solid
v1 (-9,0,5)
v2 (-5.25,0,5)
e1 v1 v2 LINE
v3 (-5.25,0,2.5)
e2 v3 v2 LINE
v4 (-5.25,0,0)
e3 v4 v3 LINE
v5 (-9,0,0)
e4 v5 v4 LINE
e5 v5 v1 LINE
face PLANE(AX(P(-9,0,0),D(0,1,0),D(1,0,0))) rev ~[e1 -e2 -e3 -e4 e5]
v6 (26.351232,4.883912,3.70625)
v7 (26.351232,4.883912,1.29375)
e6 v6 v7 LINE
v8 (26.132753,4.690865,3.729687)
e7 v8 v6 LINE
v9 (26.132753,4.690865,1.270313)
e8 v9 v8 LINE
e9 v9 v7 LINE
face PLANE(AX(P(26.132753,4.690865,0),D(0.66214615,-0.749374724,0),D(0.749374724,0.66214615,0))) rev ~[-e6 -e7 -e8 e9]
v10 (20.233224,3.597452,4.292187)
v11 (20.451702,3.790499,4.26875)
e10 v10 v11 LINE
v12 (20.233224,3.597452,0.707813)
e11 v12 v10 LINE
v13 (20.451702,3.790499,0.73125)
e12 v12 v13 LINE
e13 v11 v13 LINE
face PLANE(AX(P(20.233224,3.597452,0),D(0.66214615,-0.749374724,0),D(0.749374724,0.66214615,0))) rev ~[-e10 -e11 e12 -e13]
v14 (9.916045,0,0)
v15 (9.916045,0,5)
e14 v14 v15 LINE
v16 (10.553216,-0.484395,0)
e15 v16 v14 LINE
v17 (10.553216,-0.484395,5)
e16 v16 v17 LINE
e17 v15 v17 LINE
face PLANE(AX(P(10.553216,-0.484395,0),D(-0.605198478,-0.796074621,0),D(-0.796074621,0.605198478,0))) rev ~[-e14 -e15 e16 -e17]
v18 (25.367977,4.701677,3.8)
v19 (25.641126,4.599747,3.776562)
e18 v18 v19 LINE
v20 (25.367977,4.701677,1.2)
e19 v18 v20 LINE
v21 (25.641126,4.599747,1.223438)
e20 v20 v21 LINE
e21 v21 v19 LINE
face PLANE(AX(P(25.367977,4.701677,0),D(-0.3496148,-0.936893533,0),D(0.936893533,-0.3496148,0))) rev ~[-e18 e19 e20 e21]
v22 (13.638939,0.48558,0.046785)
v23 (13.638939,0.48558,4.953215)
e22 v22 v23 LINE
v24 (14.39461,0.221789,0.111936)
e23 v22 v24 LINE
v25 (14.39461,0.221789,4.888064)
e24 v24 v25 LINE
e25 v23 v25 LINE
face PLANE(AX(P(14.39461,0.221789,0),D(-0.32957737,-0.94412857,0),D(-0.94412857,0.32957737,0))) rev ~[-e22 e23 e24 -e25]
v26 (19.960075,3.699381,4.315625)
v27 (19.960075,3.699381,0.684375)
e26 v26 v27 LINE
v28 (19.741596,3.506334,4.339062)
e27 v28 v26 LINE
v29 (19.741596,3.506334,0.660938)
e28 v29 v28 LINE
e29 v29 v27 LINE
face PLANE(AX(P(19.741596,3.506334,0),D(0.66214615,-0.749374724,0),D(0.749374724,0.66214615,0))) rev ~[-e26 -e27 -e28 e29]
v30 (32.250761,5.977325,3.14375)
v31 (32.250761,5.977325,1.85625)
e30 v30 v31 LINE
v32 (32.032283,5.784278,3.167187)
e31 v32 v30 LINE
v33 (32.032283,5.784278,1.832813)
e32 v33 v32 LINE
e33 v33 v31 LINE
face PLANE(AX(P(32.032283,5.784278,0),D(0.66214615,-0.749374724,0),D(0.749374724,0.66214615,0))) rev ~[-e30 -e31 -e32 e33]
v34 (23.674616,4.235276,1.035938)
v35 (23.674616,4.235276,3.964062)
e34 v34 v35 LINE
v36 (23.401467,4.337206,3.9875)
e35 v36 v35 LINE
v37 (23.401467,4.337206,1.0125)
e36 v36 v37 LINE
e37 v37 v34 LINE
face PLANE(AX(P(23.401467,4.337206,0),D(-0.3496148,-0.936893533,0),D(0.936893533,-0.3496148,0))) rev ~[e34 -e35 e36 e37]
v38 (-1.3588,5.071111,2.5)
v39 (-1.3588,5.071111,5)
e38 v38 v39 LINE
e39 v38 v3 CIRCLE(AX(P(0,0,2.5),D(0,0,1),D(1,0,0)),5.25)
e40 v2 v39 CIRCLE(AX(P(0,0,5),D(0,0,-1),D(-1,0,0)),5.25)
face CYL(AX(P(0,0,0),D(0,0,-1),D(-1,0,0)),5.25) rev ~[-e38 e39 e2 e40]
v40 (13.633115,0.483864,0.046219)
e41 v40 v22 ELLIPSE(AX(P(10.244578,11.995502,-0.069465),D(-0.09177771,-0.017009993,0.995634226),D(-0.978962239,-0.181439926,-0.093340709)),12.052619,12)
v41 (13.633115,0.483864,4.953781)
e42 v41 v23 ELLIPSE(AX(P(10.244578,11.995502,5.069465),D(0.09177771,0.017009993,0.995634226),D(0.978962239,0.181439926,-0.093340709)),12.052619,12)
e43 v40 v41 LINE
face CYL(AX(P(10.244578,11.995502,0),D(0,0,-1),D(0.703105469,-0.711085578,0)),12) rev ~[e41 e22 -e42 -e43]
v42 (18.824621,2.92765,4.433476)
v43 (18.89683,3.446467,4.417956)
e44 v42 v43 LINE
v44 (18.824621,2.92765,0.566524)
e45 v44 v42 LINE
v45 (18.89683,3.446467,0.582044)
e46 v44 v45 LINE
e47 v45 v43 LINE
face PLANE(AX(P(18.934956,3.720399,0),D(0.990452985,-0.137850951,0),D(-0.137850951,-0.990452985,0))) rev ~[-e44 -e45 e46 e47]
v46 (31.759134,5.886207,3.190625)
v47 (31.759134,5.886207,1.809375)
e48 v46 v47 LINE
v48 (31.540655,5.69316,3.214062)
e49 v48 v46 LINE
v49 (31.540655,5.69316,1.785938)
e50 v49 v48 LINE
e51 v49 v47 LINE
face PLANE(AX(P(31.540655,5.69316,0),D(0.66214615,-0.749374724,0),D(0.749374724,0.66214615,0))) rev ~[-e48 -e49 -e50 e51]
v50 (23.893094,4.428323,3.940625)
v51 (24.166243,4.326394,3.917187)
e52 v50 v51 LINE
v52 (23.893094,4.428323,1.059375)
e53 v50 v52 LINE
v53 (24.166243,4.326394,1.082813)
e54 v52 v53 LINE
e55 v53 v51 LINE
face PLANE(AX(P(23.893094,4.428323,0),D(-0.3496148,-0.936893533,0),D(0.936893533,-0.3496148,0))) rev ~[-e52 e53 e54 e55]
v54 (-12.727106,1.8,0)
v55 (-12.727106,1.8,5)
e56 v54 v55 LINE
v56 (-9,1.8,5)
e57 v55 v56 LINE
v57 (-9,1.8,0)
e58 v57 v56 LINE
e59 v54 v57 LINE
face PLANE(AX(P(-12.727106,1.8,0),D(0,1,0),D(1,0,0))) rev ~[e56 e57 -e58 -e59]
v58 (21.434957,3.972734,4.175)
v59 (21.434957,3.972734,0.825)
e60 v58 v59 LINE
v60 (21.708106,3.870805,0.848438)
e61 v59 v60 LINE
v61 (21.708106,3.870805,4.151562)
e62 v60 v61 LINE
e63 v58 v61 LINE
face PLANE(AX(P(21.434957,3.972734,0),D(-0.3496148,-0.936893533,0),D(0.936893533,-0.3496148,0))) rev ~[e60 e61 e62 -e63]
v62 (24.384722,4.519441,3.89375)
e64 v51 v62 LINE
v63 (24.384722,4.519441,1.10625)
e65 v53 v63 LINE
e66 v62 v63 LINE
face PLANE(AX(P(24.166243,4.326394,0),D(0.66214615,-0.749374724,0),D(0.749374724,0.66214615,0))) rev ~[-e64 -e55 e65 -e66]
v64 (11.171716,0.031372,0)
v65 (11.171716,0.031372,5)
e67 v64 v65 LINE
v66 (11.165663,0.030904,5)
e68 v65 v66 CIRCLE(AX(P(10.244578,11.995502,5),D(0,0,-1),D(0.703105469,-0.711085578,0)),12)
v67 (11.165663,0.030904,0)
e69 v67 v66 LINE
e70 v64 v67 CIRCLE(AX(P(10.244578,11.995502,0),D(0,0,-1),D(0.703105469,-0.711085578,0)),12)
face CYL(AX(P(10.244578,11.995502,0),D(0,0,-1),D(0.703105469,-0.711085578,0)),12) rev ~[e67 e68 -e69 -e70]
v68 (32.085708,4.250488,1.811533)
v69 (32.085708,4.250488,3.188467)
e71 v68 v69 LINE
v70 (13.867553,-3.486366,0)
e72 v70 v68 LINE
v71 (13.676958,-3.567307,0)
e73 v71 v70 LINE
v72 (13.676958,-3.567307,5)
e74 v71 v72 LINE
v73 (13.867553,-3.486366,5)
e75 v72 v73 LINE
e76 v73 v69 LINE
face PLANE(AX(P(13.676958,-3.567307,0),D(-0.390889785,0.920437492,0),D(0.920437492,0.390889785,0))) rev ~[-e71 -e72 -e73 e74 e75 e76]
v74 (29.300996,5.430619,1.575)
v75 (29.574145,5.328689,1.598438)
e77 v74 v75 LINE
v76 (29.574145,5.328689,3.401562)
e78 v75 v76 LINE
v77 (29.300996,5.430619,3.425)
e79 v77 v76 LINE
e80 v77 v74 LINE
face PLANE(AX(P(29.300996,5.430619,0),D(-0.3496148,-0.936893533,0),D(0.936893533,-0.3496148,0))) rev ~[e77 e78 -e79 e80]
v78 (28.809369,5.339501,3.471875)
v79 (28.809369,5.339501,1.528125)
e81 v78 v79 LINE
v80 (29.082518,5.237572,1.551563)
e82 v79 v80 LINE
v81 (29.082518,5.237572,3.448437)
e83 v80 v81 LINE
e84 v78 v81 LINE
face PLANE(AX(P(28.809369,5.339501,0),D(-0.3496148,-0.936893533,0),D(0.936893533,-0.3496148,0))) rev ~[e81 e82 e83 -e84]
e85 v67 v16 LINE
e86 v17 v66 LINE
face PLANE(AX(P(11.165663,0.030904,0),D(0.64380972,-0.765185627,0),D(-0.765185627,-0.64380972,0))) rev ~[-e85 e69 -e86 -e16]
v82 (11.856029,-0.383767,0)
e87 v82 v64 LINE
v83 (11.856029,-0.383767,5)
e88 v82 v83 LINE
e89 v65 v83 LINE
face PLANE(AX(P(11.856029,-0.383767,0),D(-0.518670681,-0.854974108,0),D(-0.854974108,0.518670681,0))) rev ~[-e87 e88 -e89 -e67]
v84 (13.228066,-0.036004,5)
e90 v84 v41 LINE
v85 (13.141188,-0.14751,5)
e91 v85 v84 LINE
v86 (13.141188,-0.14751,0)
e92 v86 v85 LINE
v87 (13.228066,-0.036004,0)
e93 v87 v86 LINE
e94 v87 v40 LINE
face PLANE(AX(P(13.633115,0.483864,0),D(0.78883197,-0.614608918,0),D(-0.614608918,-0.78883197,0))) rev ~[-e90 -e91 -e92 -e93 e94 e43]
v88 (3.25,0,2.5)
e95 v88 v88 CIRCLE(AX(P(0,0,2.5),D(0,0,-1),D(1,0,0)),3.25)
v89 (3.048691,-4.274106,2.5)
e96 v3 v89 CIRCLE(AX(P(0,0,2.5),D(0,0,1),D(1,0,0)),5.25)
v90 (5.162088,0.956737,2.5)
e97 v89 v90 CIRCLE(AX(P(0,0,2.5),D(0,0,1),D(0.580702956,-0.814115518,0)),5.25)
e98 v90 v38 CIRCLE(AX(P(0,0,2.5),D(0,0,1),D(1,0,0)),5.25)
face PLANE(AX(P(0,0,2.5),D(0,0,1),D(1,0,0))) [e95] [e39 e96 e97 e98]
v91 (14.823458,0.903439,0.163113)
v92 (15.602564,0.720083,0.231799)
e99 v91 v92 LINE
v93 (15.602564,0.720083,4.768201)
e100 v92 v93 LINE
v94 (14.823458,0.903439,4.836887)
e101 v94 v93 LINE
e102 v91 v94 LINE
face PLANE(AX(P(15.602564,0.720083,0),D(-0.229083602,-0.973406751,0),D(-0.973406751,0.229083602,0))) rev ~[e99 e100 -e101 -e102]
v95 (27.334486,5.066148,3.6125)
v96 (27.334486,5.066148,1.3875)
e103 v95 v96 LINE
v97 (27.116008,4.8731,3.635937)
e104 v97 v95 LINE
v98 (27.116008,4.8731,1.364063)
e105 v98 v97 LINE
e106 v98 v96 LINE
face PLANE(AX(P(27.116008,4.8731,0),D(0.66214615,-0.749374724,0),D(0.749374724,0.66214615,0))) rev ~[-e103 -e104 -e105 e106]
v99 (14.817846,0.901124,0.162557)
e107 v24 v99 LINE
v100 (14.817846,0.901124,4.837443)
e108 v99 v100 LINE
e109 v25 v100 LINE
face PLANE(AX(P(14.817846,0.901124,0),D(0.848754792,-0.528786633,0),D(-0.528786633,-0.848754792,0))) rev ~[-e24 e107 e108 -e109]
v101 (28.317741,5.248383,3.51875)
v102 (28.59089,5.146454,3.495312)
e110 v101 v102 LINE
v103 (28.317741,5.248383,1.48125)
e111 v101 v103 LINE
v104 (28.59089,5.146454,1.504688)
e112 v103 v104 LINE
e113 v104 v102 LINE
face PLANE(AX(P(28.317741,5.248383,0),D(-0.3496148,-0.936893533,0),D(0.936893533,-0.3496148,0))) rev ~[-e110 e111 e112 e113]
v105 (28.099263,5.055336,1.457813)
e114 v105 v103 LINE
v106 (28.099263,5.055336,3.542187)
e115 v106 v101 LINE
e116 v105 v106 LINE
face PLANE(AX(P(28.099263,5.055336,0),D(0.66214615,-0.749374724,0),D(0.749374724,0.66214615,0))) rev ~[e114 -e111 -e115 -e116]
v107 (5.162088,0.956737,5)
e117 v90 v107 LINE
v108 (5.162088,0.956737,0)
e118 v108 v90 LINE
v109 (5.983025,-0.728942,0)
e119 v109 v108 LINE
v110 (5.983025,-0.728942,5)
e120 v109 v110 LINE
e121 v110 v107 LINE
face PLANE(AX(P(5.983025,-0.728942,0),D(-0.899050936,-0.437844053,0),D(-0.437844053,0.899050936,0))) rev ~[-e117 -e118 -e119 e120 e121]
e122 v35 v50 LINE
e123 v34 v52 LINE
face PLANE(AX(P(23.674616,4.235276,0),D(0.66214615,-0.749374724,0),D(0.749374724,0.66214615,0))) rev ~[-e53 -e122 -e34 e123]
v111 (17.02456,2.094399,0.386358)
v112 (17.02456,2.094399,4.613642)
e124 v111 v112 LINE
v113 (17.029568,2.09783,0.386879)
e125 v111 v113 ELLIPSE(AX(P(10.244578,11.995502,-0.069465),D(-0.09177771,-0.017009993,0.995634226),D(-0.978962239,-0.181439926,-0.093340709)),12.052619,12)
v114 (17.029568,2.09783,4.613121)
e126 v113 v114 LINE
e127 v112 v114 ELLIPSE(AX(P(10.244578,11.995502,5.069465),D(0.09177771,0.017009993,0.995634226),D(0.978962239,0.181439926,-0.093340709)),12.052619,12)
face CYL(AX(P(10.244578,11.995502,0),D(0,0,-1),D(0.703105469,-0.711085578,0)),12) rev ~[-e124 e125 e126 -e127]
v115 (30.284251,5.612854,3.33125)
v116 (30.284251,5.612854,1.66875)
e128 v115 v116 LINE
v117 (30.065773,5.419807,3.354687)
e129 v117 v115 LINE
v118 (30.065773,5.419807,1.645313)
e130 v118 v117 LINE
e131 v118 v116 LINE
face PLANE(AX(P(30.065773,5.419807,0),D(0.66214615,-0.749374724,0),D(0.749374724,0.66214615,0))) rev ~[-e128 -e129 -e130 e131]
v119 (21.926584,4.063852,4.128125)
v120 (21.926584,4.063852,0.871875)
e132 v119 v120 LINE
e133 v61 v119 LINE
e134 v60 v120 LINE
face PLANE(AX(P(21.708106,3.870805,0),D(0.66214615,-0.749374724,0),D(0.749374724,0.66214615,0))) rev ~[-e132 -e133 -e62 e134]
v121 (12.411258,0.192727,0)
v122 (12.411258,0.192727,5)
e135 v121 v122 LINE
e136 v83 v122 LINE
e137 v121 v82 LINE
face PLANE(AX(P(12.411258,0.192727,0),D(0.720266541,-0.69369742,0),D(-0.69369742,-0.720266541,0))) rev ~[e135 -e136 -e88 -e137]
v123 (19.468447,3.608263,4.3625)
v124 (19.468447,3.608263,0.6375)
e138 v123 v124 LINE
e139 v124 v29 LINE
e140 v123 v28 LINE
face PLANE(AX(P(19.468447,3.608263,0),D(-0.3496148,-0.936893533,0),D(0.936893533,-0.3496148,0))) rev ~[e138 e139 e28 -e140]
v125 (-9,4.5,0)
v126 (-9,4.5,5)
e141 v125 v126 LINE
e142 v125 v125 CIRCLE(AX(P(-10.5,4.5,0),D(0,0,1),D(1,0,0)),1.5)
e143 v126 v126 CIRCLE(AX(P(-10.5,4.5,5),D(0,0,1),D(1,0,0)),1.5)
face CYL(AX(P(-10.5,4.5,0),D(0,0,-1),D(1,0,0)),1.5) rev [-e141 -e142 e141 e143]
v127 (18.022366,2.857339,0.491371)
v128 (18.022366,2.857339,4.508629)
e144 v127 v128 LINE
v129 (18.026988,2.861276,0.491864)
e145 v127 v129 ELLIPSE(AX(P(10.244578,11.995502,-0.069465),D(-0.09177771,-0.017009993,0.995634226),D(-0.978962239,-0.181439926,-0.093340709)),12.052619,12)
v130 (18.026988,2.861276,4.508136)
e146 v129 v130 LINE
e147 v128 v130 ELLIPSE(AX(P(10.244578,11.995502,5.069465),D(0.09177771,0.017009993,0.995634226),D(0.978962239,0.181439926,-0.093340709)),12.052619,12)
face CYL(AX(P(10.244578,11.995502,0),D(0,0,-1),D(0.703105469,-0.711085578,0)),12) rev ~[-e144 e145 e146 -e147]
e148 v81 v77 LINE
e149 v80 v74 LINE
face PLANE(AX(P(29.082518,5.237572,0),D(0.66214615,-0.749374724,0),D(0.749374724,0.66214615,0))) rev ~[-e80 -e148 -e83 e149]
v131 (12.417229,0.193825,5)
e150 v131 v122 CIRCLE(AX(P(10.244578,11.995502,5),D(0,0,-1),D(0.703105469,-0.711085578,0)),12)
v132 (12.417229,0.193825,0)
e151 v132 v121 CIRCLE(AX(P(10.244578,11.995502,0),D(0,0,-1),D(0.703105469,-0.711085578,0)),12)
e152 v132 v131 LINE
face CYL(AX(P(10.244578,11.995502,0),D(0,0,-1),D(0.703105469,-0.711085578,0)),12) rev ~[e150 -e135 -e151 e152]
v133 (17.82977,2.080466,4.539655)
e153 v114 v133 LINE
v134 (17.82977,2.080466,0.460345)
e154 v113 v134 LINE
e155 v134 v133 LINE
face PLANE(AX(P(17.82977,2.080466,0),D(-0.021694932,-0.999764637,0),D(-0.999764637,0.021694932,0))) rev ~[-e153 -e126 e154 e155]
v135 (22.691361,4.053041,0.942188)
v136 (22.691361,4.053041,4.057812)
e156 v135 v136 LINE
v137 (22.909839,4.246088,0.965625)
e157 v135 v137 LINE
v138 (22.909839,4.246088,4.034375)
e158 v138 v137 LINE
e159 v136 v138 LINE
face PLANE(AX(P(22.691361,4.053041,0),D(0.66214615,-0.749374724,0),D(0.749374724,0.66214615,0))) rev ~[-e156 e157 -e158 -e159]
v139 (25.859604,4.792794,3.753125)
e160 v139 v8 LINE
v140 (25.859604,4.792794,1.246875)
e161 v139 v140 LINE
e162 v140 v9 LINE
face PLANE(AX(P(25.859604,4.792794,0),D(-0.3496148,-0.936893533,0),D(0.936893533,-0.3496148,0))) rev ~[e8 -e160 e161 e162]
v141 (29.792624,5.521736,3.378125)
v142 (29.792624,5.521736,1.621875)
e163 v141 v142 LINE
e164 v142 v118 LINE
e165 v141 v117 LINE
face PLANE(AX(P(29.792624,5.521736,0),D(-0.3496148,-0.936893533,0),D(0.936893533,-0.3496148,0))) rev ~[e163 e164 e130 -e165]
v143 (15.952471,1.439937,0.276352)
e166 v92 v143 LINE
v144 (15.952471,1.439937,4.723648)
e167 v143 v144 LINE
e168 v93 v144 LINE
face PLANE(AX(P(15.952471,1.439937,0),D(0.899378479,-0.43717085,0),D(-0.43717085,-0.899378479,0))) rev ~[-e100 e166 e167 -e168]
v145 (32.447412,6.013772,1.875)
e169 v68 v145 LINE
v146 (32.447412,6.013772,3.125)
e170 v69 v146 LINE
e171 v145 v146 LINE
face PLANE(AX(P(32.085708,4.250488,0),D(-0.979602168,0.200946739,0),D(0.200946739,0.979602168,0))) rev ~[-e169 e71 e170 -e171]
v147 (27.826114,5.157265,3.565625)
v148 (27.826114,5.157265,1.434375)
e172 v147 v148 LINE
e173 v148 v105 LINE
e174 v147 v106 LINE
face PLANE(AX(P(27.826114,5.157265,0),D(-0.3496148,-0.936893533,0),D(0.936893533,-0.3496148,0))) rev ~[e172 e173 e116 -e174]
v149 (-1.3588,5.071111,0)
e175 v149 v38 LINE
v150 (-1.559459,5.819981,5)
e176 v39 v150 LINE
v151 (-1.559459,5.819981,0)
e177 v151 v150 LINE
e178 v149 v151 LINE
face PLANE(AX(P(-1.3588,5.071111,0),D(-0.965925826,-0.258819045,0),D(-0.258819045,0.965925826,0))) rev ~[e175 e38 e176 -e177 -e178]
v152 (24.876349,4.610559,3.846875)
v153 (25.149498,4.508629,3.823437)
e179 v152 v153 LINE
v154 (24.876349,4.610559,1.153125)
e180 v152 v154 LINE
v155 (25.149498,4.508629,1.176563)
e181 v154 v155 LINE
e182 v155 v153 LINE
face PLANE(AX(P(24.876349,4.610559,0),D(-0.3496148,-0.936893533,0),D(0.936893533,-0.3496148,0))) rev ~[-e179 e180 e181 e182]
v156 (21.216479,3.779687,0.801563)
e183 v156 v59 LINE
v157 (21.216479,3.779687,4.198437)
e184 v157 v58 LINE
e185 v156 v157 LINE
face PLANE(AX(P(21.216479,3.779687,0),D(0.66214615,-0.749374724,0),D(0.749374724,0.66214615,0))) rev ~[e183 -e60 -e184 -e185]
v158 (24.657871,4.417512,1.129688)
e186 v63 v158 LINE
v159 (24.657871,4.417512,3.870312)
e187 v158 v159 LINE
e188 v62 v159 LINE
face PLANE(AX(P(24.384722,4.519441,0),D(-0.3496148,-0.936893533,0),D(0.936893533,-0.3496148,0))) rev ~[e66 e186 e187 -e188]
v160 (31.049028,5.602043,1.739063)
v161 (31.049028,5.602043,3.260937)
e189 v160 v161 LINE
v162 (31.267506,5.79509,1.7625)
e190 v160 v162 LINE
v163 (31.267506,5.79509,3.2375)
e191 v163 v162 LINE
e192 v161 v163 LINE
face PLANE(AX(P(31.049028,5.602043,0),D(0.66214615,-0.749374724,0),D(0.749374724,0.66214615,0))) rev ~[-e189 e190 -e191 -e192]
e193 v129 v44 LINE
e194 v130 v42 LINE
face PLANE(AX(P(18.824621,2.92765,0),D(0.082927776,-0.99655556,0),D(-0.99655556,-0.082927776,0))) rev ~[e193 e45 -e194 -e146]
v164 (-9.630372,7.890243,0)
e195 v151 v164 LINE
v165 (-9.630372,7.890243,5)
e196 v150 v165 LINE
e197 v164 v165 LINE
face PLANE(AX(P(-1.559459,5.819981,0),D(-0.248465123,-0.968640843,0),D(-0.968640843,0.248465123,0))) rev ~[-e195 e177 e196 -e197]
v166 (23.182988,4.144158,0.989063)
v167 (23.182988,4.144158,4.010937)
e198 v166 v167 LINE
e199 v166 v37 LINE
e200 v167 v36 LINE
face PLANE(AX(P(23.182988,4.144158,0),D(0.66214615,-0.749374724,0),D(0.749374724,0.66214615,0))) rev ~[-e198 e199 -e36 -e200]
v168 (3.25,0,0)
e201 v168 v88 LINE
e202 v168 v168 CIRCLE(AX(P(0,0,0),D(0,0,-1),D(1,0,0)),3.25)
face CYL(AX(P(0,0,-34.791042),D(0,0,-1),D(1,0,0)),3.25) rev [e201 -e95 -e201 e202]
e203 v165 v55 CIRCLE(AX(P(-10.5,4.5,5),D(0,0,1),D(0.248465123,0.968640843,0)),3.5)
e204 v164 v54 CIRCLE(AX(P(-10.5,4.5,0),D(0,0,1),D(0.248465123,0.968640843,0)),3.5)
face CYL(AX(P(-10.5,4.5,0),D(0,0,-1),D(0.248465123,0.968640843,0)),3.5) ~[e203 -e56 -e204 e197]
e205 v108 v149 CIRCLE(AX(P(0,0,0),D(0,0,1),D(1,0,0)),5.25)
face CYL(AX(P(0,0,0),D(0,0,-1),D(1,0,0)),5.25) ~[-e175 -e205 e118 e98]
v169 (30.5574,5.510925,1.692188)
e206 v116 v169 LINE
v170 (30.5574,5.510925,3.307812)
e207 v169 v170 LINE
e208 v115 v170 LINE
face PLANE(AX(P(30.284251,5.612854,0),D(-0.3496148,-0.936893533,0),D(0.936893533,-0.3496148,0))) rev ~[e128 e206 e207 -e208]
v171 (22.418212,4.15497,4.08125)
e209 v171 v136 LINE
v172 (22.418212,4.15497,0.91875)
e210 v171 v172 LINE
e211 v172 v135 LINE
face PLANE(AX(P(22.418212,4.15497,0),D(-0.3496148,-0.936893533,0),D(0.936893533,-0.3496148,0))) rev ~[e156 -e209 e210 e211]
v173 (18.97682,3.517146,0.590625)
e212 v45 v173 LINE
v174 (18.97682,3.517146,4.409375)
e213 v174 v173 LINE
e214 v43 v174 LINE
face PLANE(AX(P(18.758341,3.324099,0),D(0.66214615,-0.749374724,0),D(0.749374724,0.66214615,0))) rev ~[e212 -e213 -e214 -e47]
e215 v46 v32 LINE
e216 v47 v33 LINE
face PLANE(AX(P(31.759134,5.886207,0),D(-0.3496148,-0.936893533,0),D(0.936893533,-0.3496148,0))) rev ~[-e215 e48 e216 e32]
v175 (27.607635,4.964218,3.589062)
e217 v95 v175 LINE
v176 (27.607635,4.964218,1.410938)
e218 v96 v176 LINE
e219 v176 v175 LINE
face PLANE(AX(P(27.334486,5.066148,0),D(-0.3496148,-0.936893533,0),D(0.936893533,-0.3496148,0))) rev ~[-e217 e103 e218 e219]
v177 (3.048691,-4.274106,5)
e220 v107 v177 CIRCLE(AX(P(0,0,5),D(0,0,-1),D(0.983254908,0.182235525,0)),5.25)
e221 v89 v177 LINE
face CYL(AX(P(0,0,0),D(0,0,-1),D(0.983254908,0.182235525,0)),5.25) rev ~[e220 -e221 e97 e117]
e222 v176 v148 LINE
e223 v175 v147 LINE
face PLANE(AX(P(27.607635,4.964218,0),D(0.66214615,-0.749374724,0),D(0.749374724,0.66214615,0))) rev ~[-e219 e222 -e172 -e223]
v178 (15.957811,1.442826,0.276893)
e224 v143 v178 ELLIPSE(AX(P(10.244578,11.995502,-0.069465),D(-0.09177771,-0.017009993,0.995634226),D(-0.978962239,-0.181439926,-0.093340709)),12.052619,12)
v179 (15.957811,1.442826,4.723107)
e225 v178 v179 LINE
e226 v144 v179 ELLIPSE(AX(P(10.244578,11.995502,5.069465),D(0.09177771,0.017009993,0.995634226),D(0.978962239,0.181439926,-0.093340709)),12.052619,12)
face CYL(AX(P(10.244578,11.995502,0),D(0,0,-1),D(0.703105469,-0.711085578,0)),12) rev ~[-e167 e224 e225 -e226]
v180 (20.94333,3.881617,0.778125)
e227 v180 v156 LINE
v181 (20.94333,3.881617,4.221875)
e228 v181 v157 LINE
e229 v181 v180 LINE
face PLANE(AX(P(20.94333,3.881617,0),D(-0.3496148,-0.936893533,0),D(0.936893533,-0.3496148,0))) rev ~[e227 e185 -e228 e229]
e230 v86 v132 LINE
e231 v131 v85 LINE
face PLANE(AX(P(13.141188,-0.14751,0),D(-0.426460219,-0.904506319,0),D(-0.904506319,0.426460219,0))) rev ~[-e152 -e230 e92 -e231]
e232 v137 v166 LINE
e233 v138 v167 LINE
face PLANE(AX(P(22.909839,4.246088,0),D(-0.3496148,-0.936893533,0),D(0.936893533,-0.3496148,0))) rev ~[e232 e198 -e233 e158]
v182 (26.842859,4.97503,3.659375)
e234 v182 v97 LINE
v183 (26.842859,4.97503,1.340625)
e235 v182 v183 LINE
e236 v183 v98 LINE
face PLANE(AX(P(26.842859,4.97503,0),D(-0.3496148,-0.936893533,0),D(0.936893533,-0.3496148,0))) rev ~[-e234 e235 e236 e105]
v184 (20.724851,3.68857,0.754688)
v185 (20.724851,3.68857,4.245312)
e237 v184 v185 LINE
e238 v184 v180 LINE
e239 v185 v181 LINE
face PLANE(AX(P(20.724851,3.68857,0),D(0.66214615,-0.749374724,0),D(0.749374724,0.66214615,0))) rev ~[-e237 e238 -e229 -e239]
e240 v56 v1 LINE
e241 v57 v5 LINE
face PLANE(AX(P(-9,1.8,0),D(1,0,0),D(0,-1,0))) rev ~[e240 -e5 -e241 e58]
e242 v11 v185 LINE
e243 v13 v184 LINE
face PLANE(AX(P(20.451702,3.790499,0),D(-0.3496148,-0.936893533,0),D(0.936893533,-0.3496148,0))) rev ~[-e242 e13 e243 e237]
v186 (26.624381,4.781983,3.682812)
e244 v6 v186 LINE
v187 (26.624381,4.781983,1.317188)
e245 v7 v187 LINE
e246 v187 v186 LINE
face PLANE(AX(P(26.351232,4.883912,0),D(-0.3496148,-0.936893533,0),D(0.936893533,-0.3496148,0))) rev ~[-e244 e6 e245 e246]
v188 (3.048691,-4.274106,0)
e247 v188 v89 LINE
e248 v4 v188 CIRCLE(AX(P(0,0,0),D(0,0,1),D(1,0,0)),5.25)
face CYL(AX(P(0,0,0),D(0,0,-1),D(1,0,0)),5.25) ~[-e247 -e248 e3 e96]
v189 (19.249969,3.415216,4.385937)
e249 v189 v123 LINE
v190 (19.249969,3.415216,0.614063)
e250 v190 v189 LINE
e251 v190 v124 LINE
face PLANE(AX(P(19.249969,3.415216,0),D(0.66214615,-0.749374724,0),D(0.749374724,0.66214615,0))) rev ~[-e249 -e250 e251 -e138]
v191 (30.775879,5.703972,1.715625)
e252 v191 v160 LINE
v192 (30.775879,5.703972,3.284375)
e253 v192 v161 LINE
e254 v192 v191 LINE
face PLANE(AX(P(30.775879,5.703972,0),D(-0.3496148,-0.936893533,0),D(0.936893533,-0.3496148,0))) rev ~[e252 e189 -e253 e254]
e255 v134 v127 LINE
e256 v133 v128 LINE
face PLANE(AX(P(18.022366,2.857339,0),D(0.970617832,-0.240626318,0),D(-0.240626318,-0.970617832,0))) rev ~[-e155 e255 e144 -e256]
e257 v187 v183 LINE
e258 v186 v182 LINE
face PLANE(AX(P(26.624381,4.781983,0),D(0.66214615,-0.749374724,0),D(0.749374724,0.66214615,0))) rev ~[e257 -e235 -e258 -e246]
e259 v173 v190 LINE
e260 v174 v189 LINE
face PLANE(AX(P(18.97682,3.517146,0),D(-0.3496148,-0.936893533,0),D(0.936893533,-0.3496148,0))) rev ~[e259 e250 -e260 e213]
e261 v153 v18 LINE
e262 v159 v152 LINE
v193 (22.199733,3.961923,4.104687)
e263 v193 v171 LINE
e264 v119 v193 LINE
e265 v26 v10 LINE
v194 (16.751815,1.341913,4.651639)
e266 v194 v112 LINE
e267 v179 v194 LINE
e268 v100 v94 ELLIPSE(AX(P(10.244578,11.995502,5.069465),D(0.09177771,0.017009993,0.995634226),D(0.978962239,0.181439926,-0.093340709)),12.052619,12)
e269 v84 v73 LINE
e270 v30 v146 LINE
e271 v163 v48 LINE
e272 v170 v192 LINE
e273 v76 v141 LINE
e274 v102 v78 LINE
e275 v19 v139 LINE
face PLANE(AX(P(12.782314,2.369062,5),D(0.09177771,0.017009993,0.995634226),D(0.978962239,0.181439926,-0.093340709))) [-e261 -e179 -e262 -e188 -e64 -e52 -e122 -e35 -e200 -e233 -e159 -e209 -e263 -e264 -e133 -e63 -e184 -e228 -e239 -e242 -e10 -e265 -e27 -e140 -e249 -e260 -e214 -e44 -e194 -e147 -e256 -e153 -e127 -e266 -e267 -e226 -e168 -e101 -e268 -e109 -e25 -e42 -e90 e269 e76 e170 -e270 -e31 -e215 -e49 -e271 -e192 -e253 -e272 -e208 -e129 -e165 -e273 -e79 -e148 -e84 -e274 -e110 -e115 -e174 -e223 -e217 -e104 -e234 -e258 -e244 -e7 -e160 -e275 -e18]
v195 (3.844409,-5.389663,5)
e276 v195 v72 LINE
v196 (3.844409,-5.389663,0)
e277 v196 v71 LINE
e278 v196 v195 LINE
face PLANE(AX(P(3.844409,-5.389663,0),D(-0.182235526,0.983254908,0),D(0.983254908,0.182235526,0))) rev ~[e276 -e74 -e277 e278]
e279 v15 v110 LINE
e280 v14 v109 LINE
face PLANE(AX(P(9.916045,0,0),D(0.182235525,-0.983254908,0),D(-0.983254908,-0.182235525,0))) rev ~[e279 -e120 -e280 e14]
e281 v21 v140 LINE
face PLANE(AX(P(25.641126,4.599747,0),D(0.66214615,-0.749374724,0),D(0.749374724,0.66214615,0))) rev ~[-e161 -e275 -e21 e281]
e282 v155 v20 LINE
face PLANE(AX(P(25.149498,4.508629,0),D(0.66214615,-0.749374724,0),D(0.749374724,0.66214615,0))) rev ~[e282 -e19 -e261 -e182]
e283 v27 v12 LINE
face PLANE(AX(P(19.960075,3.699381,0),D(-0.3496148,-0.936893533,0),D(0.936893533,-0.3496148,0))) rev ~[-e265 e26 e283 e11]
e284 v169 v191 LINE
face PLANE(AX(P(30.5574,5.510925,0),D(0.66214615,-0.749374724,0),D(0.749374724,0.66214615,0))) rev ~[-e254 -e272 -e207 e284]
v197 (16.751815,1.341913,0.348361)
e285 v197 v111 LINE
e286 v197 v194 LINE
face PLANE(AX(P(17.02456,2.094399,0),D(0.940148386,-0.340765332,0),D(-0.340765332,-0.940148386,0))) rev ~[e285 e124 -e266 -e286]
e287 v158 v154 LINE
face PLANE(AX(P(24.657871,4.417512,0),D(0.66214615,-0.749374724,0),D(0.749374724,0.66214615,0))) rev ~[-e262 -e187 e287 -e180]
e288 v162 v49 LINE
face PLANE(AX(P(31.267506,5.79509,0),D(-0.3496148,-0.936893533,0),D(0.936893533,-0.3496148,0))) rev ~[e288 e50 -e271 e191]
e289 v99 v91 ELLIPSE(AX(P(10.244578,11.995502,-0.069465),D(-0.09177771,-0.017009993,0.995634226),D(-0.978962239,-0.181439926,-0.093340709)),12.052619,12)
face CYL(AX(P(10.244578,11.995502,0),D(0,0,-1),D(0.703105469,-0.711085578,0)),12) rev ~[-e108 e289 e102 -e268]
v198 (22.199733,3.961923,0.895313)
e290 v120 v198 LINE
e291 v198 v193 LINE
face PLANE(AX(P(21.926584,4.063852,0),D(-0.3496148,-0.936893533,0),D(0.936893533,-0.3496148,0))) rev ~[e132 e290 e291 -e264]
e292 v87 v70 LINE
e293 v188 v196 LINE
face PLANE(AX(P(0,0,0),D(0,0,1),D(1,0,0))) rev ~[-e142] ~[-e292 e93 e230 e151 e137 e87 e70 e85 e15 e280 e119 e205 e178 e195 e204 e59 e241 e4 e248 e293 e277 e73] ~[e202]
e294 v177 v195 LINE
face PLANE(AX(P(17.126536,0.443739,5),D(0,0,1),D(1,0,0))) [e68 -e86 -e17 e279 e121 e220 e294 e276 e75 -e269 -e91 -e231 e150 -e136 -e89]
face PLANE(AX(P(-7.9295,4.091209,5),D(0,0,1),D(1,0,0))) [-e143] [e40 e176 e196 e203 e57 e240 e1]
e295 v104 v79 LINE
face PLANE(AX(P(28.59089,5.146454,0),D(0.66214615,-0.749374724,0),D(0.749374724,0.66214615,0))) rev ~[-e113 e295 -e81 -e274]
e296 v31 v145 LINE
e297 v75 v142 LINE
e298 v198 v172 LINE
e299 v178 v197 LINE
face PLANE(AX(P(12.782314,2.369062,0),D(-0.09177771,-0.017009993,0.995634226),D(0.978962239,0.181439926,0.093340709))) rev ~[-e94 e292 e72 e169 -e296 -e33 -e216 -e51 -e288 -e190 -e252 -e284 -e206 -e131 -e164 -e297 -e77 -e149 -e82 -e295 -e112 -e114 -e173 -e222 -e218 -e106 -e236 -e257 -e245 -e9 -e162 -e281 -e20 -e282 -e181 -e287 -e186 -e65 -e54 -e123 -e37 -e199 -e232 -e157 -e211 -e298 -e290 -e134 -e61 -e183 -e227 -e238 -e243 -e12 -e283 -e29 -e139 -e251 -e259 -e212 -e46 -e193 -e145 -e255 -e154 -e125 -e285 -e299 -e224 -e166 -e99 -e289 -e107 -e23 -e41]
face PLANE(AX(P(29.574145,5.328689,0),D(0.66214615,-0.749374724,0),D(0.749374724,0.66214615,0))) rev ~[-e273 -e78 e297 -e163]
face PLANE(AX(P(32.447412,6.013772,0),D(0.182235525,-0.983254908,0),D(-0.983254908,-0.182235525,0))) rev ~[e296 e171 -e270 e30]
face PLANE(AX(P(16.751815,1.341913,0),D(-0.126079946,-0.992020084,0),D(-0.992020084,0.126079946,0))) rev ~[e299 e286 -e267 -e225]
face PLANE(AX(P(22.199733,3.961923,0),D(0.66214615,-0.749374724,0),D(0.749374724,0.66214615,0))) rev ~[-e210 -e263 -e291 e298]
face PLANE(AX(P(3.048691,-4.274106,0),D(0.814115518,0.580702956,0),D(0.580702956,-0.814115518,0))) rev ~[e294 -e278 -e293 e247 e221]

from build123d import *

# Parameters (mm, degrees)
SKETCH1_R               = 1.5
BOSS_EXTRUDE1_DEPTH     = 5
BOSS_EXTRUDE1_2_DEPTH   = 5
SKETCH1_3_R             = 5.25
BOSS_EXTRUDE2_DEPTH     = 2.5
CUT_EXTRUDE4_DEPTH      = 34.791042337
CUT_EXTRUDE4_DEPTH_BACK = 34.791042337
SKETCH1_5_R             = 3.25
CUT_EXTRUDE1_DEPTH      = 34.791042337
CUT_EXTRUDE2_DEPTH      = 34.791042337
LPATTERN1_COUNT         = 28
LPATTERN1_PITCH         = 0.5
CUT_EXTRUDE3_DEPTH      = 34.791042337
CIRPATTERN1_COUNT       = 8
CIRPATTERN1_ANGLE       = 42


with BuildPart() as part:
    # Sketch1 → Boss-Extrude1 (new body)
    with BuildSketch(Plane.XY):
        with BuildLine():
            Line((-1.559459186, 5.819980914), (-9.630372069, 7.89024295))
            ThreePointArc((-9.630372069, 7.89024295), (-13.619847961, 6.086363356), (-12.727105745, 1.8))
            Line((-12.727105745, 1.8), (-9, 1.8))
            Line((-9, 1.8), (-9, 0))
            Line((-9, 0), (-5.25, 0))
            ThreePointArc((-5.25, 0), (-4.165105037, 3.195997502), (-1.358799987, 5.071110588))
            Line((-1.358799987, 5.071110588), (-1.559459186, 5.819980914))
        make_face()
        with Locations((-10.5, 4.5)):
            Circle(SKETCH1_R, mode=Mode.SUBTRACT)
    extrude(amount=BOSS_EXTRUDE1_DEPTH)



with BuildPart() as body_2:
    # Sketch1 → Boss-Extrude1 2 (new body)
    with BuildSketch(Plane.XY):
        with BuildLine():
            Line((5.983025461, -0.728942102), (5.162088265, 0.956736509))
            ThreePointArc((5.162088265, 0.956736509), (4.867715236, -1.966684615), (3.048690517, -4.274106471))
            Line((3.048690517, -4.274106471), (3.844408913, -5.389662519))
            Line((3.844408913, -5.389662519), (13.676957988, -3.567307264))
            Line((13.676957988, -3.567307264), (32.08570782, 4.250488438))
            Line((32.08570782, 4.250488438), (32.44741195, 6.013772341))
            Line((32.44741195, 6.013772341), (18.681843244, 3.462474984))
            ThreePointArc((18.681843244, 3.462474984), (14.653100202, 0.834635979), (9.916045092, 0))
            Line((9.916045092, 0), (5.983025461, -0.728942102))
        make_face()
    extrude(amount=BOSS_EXTRUDE1_2_DEPTH)


with BuildPart() as part_1:
    add(part.part)

    add(body_2.part)  # Boss-Extrude2 merges body 2
    # Sketch1<3> → Boss-Extrude2 (add)
    with BuildSketch(Plane.XY):
        Circle(SKETCH1_3_R)
    extrude(amount=BOSS_EXTRUDE2_DEPTH)

    # Sketch1<5> → Cut-Extrude4 (cut, two sides: drawn at the far end of the back side and taken through both)
    with BuildSketch(Plane.XY.offset(-CUT_EXTRUDE4_DEPTH_BACK)):
        Circle(SKETCH1_5_R)
    extrude(amount=CUT_EXTRUDE4_DEPTH + CUT_EXTRUDE4_DEPTH_BACK, mode=Mode.SUBTRACT)

    # Sketch2 → Cut-Extrude1 (cut, through all)
    with BuildSketch(Plane(origin=(0, 0, 0), x_dir=(0.9832549075639557, 0.18223552549214142, 0), z_dir=(-0.18223552549214142, 0.9832549075639557, 0))):
        Polygon((13, 0), (33, -1.875), (33, 0), align=None)
        Polygon((33, -3.125), (33, -5), (13, -5), align=None)
    extrude(amount=-CUT_EXTRUDE1_DEPTH, mode=Mode.SUBTRACT)

    # Sketch3 → Cut-Extrude2 (cut, symmetric)
    with BuildSketch(Plane.XY):
        Polygon((31.759133514, 5.886207473), (32.03228257, 5.784278119), (32.250760968, 5.977325236), align=None)
    cut_extrude2 = extrude(amount=CUT_EXTRUDE2_DEPTH, both=True, mode=Mode.SUBTRACT)

    # LPattern1: Cut-Extrude2 ×28
    with Locations(*[Vector(-0.983254907563956, -0.1822355254921403, 0) * (i * LPATTERN1_PITCH) for i in range(1, LPATTERN1_COUNT)]):
        add(cut_extrude2, mode=Mode.SUBTRACT)

    # Sketch4 → Cut-Extrude3 (cut, through all)
    with BuildSketch(Plane.XY):
        Polygon((9.916045092, 0), (11.165663009, 0.030904073), (10.553215679, -0.48439513), align=None)
    cut_extrude3 = extrude(amount=CUT_EXTRUDE3_DEPTH, mode=Mode.SUBTRACT)

    # CirPattern1: Cut-Extrude3 ×8 about axis
    cirpattern1_axis = Axis((10.244577616, 11.995501923, 0), (0, 0, 1))
    for i in range(1, CIRPATTERN1_COUNT):
        add(cut_extrude3.rotate(cirpattern1_axis, i * CIRPATTERN1_ANGLE / (CIRPATTERN1_COUNT - 1)), mode=Mode.SUBTRACT)


solid = part_1.part
